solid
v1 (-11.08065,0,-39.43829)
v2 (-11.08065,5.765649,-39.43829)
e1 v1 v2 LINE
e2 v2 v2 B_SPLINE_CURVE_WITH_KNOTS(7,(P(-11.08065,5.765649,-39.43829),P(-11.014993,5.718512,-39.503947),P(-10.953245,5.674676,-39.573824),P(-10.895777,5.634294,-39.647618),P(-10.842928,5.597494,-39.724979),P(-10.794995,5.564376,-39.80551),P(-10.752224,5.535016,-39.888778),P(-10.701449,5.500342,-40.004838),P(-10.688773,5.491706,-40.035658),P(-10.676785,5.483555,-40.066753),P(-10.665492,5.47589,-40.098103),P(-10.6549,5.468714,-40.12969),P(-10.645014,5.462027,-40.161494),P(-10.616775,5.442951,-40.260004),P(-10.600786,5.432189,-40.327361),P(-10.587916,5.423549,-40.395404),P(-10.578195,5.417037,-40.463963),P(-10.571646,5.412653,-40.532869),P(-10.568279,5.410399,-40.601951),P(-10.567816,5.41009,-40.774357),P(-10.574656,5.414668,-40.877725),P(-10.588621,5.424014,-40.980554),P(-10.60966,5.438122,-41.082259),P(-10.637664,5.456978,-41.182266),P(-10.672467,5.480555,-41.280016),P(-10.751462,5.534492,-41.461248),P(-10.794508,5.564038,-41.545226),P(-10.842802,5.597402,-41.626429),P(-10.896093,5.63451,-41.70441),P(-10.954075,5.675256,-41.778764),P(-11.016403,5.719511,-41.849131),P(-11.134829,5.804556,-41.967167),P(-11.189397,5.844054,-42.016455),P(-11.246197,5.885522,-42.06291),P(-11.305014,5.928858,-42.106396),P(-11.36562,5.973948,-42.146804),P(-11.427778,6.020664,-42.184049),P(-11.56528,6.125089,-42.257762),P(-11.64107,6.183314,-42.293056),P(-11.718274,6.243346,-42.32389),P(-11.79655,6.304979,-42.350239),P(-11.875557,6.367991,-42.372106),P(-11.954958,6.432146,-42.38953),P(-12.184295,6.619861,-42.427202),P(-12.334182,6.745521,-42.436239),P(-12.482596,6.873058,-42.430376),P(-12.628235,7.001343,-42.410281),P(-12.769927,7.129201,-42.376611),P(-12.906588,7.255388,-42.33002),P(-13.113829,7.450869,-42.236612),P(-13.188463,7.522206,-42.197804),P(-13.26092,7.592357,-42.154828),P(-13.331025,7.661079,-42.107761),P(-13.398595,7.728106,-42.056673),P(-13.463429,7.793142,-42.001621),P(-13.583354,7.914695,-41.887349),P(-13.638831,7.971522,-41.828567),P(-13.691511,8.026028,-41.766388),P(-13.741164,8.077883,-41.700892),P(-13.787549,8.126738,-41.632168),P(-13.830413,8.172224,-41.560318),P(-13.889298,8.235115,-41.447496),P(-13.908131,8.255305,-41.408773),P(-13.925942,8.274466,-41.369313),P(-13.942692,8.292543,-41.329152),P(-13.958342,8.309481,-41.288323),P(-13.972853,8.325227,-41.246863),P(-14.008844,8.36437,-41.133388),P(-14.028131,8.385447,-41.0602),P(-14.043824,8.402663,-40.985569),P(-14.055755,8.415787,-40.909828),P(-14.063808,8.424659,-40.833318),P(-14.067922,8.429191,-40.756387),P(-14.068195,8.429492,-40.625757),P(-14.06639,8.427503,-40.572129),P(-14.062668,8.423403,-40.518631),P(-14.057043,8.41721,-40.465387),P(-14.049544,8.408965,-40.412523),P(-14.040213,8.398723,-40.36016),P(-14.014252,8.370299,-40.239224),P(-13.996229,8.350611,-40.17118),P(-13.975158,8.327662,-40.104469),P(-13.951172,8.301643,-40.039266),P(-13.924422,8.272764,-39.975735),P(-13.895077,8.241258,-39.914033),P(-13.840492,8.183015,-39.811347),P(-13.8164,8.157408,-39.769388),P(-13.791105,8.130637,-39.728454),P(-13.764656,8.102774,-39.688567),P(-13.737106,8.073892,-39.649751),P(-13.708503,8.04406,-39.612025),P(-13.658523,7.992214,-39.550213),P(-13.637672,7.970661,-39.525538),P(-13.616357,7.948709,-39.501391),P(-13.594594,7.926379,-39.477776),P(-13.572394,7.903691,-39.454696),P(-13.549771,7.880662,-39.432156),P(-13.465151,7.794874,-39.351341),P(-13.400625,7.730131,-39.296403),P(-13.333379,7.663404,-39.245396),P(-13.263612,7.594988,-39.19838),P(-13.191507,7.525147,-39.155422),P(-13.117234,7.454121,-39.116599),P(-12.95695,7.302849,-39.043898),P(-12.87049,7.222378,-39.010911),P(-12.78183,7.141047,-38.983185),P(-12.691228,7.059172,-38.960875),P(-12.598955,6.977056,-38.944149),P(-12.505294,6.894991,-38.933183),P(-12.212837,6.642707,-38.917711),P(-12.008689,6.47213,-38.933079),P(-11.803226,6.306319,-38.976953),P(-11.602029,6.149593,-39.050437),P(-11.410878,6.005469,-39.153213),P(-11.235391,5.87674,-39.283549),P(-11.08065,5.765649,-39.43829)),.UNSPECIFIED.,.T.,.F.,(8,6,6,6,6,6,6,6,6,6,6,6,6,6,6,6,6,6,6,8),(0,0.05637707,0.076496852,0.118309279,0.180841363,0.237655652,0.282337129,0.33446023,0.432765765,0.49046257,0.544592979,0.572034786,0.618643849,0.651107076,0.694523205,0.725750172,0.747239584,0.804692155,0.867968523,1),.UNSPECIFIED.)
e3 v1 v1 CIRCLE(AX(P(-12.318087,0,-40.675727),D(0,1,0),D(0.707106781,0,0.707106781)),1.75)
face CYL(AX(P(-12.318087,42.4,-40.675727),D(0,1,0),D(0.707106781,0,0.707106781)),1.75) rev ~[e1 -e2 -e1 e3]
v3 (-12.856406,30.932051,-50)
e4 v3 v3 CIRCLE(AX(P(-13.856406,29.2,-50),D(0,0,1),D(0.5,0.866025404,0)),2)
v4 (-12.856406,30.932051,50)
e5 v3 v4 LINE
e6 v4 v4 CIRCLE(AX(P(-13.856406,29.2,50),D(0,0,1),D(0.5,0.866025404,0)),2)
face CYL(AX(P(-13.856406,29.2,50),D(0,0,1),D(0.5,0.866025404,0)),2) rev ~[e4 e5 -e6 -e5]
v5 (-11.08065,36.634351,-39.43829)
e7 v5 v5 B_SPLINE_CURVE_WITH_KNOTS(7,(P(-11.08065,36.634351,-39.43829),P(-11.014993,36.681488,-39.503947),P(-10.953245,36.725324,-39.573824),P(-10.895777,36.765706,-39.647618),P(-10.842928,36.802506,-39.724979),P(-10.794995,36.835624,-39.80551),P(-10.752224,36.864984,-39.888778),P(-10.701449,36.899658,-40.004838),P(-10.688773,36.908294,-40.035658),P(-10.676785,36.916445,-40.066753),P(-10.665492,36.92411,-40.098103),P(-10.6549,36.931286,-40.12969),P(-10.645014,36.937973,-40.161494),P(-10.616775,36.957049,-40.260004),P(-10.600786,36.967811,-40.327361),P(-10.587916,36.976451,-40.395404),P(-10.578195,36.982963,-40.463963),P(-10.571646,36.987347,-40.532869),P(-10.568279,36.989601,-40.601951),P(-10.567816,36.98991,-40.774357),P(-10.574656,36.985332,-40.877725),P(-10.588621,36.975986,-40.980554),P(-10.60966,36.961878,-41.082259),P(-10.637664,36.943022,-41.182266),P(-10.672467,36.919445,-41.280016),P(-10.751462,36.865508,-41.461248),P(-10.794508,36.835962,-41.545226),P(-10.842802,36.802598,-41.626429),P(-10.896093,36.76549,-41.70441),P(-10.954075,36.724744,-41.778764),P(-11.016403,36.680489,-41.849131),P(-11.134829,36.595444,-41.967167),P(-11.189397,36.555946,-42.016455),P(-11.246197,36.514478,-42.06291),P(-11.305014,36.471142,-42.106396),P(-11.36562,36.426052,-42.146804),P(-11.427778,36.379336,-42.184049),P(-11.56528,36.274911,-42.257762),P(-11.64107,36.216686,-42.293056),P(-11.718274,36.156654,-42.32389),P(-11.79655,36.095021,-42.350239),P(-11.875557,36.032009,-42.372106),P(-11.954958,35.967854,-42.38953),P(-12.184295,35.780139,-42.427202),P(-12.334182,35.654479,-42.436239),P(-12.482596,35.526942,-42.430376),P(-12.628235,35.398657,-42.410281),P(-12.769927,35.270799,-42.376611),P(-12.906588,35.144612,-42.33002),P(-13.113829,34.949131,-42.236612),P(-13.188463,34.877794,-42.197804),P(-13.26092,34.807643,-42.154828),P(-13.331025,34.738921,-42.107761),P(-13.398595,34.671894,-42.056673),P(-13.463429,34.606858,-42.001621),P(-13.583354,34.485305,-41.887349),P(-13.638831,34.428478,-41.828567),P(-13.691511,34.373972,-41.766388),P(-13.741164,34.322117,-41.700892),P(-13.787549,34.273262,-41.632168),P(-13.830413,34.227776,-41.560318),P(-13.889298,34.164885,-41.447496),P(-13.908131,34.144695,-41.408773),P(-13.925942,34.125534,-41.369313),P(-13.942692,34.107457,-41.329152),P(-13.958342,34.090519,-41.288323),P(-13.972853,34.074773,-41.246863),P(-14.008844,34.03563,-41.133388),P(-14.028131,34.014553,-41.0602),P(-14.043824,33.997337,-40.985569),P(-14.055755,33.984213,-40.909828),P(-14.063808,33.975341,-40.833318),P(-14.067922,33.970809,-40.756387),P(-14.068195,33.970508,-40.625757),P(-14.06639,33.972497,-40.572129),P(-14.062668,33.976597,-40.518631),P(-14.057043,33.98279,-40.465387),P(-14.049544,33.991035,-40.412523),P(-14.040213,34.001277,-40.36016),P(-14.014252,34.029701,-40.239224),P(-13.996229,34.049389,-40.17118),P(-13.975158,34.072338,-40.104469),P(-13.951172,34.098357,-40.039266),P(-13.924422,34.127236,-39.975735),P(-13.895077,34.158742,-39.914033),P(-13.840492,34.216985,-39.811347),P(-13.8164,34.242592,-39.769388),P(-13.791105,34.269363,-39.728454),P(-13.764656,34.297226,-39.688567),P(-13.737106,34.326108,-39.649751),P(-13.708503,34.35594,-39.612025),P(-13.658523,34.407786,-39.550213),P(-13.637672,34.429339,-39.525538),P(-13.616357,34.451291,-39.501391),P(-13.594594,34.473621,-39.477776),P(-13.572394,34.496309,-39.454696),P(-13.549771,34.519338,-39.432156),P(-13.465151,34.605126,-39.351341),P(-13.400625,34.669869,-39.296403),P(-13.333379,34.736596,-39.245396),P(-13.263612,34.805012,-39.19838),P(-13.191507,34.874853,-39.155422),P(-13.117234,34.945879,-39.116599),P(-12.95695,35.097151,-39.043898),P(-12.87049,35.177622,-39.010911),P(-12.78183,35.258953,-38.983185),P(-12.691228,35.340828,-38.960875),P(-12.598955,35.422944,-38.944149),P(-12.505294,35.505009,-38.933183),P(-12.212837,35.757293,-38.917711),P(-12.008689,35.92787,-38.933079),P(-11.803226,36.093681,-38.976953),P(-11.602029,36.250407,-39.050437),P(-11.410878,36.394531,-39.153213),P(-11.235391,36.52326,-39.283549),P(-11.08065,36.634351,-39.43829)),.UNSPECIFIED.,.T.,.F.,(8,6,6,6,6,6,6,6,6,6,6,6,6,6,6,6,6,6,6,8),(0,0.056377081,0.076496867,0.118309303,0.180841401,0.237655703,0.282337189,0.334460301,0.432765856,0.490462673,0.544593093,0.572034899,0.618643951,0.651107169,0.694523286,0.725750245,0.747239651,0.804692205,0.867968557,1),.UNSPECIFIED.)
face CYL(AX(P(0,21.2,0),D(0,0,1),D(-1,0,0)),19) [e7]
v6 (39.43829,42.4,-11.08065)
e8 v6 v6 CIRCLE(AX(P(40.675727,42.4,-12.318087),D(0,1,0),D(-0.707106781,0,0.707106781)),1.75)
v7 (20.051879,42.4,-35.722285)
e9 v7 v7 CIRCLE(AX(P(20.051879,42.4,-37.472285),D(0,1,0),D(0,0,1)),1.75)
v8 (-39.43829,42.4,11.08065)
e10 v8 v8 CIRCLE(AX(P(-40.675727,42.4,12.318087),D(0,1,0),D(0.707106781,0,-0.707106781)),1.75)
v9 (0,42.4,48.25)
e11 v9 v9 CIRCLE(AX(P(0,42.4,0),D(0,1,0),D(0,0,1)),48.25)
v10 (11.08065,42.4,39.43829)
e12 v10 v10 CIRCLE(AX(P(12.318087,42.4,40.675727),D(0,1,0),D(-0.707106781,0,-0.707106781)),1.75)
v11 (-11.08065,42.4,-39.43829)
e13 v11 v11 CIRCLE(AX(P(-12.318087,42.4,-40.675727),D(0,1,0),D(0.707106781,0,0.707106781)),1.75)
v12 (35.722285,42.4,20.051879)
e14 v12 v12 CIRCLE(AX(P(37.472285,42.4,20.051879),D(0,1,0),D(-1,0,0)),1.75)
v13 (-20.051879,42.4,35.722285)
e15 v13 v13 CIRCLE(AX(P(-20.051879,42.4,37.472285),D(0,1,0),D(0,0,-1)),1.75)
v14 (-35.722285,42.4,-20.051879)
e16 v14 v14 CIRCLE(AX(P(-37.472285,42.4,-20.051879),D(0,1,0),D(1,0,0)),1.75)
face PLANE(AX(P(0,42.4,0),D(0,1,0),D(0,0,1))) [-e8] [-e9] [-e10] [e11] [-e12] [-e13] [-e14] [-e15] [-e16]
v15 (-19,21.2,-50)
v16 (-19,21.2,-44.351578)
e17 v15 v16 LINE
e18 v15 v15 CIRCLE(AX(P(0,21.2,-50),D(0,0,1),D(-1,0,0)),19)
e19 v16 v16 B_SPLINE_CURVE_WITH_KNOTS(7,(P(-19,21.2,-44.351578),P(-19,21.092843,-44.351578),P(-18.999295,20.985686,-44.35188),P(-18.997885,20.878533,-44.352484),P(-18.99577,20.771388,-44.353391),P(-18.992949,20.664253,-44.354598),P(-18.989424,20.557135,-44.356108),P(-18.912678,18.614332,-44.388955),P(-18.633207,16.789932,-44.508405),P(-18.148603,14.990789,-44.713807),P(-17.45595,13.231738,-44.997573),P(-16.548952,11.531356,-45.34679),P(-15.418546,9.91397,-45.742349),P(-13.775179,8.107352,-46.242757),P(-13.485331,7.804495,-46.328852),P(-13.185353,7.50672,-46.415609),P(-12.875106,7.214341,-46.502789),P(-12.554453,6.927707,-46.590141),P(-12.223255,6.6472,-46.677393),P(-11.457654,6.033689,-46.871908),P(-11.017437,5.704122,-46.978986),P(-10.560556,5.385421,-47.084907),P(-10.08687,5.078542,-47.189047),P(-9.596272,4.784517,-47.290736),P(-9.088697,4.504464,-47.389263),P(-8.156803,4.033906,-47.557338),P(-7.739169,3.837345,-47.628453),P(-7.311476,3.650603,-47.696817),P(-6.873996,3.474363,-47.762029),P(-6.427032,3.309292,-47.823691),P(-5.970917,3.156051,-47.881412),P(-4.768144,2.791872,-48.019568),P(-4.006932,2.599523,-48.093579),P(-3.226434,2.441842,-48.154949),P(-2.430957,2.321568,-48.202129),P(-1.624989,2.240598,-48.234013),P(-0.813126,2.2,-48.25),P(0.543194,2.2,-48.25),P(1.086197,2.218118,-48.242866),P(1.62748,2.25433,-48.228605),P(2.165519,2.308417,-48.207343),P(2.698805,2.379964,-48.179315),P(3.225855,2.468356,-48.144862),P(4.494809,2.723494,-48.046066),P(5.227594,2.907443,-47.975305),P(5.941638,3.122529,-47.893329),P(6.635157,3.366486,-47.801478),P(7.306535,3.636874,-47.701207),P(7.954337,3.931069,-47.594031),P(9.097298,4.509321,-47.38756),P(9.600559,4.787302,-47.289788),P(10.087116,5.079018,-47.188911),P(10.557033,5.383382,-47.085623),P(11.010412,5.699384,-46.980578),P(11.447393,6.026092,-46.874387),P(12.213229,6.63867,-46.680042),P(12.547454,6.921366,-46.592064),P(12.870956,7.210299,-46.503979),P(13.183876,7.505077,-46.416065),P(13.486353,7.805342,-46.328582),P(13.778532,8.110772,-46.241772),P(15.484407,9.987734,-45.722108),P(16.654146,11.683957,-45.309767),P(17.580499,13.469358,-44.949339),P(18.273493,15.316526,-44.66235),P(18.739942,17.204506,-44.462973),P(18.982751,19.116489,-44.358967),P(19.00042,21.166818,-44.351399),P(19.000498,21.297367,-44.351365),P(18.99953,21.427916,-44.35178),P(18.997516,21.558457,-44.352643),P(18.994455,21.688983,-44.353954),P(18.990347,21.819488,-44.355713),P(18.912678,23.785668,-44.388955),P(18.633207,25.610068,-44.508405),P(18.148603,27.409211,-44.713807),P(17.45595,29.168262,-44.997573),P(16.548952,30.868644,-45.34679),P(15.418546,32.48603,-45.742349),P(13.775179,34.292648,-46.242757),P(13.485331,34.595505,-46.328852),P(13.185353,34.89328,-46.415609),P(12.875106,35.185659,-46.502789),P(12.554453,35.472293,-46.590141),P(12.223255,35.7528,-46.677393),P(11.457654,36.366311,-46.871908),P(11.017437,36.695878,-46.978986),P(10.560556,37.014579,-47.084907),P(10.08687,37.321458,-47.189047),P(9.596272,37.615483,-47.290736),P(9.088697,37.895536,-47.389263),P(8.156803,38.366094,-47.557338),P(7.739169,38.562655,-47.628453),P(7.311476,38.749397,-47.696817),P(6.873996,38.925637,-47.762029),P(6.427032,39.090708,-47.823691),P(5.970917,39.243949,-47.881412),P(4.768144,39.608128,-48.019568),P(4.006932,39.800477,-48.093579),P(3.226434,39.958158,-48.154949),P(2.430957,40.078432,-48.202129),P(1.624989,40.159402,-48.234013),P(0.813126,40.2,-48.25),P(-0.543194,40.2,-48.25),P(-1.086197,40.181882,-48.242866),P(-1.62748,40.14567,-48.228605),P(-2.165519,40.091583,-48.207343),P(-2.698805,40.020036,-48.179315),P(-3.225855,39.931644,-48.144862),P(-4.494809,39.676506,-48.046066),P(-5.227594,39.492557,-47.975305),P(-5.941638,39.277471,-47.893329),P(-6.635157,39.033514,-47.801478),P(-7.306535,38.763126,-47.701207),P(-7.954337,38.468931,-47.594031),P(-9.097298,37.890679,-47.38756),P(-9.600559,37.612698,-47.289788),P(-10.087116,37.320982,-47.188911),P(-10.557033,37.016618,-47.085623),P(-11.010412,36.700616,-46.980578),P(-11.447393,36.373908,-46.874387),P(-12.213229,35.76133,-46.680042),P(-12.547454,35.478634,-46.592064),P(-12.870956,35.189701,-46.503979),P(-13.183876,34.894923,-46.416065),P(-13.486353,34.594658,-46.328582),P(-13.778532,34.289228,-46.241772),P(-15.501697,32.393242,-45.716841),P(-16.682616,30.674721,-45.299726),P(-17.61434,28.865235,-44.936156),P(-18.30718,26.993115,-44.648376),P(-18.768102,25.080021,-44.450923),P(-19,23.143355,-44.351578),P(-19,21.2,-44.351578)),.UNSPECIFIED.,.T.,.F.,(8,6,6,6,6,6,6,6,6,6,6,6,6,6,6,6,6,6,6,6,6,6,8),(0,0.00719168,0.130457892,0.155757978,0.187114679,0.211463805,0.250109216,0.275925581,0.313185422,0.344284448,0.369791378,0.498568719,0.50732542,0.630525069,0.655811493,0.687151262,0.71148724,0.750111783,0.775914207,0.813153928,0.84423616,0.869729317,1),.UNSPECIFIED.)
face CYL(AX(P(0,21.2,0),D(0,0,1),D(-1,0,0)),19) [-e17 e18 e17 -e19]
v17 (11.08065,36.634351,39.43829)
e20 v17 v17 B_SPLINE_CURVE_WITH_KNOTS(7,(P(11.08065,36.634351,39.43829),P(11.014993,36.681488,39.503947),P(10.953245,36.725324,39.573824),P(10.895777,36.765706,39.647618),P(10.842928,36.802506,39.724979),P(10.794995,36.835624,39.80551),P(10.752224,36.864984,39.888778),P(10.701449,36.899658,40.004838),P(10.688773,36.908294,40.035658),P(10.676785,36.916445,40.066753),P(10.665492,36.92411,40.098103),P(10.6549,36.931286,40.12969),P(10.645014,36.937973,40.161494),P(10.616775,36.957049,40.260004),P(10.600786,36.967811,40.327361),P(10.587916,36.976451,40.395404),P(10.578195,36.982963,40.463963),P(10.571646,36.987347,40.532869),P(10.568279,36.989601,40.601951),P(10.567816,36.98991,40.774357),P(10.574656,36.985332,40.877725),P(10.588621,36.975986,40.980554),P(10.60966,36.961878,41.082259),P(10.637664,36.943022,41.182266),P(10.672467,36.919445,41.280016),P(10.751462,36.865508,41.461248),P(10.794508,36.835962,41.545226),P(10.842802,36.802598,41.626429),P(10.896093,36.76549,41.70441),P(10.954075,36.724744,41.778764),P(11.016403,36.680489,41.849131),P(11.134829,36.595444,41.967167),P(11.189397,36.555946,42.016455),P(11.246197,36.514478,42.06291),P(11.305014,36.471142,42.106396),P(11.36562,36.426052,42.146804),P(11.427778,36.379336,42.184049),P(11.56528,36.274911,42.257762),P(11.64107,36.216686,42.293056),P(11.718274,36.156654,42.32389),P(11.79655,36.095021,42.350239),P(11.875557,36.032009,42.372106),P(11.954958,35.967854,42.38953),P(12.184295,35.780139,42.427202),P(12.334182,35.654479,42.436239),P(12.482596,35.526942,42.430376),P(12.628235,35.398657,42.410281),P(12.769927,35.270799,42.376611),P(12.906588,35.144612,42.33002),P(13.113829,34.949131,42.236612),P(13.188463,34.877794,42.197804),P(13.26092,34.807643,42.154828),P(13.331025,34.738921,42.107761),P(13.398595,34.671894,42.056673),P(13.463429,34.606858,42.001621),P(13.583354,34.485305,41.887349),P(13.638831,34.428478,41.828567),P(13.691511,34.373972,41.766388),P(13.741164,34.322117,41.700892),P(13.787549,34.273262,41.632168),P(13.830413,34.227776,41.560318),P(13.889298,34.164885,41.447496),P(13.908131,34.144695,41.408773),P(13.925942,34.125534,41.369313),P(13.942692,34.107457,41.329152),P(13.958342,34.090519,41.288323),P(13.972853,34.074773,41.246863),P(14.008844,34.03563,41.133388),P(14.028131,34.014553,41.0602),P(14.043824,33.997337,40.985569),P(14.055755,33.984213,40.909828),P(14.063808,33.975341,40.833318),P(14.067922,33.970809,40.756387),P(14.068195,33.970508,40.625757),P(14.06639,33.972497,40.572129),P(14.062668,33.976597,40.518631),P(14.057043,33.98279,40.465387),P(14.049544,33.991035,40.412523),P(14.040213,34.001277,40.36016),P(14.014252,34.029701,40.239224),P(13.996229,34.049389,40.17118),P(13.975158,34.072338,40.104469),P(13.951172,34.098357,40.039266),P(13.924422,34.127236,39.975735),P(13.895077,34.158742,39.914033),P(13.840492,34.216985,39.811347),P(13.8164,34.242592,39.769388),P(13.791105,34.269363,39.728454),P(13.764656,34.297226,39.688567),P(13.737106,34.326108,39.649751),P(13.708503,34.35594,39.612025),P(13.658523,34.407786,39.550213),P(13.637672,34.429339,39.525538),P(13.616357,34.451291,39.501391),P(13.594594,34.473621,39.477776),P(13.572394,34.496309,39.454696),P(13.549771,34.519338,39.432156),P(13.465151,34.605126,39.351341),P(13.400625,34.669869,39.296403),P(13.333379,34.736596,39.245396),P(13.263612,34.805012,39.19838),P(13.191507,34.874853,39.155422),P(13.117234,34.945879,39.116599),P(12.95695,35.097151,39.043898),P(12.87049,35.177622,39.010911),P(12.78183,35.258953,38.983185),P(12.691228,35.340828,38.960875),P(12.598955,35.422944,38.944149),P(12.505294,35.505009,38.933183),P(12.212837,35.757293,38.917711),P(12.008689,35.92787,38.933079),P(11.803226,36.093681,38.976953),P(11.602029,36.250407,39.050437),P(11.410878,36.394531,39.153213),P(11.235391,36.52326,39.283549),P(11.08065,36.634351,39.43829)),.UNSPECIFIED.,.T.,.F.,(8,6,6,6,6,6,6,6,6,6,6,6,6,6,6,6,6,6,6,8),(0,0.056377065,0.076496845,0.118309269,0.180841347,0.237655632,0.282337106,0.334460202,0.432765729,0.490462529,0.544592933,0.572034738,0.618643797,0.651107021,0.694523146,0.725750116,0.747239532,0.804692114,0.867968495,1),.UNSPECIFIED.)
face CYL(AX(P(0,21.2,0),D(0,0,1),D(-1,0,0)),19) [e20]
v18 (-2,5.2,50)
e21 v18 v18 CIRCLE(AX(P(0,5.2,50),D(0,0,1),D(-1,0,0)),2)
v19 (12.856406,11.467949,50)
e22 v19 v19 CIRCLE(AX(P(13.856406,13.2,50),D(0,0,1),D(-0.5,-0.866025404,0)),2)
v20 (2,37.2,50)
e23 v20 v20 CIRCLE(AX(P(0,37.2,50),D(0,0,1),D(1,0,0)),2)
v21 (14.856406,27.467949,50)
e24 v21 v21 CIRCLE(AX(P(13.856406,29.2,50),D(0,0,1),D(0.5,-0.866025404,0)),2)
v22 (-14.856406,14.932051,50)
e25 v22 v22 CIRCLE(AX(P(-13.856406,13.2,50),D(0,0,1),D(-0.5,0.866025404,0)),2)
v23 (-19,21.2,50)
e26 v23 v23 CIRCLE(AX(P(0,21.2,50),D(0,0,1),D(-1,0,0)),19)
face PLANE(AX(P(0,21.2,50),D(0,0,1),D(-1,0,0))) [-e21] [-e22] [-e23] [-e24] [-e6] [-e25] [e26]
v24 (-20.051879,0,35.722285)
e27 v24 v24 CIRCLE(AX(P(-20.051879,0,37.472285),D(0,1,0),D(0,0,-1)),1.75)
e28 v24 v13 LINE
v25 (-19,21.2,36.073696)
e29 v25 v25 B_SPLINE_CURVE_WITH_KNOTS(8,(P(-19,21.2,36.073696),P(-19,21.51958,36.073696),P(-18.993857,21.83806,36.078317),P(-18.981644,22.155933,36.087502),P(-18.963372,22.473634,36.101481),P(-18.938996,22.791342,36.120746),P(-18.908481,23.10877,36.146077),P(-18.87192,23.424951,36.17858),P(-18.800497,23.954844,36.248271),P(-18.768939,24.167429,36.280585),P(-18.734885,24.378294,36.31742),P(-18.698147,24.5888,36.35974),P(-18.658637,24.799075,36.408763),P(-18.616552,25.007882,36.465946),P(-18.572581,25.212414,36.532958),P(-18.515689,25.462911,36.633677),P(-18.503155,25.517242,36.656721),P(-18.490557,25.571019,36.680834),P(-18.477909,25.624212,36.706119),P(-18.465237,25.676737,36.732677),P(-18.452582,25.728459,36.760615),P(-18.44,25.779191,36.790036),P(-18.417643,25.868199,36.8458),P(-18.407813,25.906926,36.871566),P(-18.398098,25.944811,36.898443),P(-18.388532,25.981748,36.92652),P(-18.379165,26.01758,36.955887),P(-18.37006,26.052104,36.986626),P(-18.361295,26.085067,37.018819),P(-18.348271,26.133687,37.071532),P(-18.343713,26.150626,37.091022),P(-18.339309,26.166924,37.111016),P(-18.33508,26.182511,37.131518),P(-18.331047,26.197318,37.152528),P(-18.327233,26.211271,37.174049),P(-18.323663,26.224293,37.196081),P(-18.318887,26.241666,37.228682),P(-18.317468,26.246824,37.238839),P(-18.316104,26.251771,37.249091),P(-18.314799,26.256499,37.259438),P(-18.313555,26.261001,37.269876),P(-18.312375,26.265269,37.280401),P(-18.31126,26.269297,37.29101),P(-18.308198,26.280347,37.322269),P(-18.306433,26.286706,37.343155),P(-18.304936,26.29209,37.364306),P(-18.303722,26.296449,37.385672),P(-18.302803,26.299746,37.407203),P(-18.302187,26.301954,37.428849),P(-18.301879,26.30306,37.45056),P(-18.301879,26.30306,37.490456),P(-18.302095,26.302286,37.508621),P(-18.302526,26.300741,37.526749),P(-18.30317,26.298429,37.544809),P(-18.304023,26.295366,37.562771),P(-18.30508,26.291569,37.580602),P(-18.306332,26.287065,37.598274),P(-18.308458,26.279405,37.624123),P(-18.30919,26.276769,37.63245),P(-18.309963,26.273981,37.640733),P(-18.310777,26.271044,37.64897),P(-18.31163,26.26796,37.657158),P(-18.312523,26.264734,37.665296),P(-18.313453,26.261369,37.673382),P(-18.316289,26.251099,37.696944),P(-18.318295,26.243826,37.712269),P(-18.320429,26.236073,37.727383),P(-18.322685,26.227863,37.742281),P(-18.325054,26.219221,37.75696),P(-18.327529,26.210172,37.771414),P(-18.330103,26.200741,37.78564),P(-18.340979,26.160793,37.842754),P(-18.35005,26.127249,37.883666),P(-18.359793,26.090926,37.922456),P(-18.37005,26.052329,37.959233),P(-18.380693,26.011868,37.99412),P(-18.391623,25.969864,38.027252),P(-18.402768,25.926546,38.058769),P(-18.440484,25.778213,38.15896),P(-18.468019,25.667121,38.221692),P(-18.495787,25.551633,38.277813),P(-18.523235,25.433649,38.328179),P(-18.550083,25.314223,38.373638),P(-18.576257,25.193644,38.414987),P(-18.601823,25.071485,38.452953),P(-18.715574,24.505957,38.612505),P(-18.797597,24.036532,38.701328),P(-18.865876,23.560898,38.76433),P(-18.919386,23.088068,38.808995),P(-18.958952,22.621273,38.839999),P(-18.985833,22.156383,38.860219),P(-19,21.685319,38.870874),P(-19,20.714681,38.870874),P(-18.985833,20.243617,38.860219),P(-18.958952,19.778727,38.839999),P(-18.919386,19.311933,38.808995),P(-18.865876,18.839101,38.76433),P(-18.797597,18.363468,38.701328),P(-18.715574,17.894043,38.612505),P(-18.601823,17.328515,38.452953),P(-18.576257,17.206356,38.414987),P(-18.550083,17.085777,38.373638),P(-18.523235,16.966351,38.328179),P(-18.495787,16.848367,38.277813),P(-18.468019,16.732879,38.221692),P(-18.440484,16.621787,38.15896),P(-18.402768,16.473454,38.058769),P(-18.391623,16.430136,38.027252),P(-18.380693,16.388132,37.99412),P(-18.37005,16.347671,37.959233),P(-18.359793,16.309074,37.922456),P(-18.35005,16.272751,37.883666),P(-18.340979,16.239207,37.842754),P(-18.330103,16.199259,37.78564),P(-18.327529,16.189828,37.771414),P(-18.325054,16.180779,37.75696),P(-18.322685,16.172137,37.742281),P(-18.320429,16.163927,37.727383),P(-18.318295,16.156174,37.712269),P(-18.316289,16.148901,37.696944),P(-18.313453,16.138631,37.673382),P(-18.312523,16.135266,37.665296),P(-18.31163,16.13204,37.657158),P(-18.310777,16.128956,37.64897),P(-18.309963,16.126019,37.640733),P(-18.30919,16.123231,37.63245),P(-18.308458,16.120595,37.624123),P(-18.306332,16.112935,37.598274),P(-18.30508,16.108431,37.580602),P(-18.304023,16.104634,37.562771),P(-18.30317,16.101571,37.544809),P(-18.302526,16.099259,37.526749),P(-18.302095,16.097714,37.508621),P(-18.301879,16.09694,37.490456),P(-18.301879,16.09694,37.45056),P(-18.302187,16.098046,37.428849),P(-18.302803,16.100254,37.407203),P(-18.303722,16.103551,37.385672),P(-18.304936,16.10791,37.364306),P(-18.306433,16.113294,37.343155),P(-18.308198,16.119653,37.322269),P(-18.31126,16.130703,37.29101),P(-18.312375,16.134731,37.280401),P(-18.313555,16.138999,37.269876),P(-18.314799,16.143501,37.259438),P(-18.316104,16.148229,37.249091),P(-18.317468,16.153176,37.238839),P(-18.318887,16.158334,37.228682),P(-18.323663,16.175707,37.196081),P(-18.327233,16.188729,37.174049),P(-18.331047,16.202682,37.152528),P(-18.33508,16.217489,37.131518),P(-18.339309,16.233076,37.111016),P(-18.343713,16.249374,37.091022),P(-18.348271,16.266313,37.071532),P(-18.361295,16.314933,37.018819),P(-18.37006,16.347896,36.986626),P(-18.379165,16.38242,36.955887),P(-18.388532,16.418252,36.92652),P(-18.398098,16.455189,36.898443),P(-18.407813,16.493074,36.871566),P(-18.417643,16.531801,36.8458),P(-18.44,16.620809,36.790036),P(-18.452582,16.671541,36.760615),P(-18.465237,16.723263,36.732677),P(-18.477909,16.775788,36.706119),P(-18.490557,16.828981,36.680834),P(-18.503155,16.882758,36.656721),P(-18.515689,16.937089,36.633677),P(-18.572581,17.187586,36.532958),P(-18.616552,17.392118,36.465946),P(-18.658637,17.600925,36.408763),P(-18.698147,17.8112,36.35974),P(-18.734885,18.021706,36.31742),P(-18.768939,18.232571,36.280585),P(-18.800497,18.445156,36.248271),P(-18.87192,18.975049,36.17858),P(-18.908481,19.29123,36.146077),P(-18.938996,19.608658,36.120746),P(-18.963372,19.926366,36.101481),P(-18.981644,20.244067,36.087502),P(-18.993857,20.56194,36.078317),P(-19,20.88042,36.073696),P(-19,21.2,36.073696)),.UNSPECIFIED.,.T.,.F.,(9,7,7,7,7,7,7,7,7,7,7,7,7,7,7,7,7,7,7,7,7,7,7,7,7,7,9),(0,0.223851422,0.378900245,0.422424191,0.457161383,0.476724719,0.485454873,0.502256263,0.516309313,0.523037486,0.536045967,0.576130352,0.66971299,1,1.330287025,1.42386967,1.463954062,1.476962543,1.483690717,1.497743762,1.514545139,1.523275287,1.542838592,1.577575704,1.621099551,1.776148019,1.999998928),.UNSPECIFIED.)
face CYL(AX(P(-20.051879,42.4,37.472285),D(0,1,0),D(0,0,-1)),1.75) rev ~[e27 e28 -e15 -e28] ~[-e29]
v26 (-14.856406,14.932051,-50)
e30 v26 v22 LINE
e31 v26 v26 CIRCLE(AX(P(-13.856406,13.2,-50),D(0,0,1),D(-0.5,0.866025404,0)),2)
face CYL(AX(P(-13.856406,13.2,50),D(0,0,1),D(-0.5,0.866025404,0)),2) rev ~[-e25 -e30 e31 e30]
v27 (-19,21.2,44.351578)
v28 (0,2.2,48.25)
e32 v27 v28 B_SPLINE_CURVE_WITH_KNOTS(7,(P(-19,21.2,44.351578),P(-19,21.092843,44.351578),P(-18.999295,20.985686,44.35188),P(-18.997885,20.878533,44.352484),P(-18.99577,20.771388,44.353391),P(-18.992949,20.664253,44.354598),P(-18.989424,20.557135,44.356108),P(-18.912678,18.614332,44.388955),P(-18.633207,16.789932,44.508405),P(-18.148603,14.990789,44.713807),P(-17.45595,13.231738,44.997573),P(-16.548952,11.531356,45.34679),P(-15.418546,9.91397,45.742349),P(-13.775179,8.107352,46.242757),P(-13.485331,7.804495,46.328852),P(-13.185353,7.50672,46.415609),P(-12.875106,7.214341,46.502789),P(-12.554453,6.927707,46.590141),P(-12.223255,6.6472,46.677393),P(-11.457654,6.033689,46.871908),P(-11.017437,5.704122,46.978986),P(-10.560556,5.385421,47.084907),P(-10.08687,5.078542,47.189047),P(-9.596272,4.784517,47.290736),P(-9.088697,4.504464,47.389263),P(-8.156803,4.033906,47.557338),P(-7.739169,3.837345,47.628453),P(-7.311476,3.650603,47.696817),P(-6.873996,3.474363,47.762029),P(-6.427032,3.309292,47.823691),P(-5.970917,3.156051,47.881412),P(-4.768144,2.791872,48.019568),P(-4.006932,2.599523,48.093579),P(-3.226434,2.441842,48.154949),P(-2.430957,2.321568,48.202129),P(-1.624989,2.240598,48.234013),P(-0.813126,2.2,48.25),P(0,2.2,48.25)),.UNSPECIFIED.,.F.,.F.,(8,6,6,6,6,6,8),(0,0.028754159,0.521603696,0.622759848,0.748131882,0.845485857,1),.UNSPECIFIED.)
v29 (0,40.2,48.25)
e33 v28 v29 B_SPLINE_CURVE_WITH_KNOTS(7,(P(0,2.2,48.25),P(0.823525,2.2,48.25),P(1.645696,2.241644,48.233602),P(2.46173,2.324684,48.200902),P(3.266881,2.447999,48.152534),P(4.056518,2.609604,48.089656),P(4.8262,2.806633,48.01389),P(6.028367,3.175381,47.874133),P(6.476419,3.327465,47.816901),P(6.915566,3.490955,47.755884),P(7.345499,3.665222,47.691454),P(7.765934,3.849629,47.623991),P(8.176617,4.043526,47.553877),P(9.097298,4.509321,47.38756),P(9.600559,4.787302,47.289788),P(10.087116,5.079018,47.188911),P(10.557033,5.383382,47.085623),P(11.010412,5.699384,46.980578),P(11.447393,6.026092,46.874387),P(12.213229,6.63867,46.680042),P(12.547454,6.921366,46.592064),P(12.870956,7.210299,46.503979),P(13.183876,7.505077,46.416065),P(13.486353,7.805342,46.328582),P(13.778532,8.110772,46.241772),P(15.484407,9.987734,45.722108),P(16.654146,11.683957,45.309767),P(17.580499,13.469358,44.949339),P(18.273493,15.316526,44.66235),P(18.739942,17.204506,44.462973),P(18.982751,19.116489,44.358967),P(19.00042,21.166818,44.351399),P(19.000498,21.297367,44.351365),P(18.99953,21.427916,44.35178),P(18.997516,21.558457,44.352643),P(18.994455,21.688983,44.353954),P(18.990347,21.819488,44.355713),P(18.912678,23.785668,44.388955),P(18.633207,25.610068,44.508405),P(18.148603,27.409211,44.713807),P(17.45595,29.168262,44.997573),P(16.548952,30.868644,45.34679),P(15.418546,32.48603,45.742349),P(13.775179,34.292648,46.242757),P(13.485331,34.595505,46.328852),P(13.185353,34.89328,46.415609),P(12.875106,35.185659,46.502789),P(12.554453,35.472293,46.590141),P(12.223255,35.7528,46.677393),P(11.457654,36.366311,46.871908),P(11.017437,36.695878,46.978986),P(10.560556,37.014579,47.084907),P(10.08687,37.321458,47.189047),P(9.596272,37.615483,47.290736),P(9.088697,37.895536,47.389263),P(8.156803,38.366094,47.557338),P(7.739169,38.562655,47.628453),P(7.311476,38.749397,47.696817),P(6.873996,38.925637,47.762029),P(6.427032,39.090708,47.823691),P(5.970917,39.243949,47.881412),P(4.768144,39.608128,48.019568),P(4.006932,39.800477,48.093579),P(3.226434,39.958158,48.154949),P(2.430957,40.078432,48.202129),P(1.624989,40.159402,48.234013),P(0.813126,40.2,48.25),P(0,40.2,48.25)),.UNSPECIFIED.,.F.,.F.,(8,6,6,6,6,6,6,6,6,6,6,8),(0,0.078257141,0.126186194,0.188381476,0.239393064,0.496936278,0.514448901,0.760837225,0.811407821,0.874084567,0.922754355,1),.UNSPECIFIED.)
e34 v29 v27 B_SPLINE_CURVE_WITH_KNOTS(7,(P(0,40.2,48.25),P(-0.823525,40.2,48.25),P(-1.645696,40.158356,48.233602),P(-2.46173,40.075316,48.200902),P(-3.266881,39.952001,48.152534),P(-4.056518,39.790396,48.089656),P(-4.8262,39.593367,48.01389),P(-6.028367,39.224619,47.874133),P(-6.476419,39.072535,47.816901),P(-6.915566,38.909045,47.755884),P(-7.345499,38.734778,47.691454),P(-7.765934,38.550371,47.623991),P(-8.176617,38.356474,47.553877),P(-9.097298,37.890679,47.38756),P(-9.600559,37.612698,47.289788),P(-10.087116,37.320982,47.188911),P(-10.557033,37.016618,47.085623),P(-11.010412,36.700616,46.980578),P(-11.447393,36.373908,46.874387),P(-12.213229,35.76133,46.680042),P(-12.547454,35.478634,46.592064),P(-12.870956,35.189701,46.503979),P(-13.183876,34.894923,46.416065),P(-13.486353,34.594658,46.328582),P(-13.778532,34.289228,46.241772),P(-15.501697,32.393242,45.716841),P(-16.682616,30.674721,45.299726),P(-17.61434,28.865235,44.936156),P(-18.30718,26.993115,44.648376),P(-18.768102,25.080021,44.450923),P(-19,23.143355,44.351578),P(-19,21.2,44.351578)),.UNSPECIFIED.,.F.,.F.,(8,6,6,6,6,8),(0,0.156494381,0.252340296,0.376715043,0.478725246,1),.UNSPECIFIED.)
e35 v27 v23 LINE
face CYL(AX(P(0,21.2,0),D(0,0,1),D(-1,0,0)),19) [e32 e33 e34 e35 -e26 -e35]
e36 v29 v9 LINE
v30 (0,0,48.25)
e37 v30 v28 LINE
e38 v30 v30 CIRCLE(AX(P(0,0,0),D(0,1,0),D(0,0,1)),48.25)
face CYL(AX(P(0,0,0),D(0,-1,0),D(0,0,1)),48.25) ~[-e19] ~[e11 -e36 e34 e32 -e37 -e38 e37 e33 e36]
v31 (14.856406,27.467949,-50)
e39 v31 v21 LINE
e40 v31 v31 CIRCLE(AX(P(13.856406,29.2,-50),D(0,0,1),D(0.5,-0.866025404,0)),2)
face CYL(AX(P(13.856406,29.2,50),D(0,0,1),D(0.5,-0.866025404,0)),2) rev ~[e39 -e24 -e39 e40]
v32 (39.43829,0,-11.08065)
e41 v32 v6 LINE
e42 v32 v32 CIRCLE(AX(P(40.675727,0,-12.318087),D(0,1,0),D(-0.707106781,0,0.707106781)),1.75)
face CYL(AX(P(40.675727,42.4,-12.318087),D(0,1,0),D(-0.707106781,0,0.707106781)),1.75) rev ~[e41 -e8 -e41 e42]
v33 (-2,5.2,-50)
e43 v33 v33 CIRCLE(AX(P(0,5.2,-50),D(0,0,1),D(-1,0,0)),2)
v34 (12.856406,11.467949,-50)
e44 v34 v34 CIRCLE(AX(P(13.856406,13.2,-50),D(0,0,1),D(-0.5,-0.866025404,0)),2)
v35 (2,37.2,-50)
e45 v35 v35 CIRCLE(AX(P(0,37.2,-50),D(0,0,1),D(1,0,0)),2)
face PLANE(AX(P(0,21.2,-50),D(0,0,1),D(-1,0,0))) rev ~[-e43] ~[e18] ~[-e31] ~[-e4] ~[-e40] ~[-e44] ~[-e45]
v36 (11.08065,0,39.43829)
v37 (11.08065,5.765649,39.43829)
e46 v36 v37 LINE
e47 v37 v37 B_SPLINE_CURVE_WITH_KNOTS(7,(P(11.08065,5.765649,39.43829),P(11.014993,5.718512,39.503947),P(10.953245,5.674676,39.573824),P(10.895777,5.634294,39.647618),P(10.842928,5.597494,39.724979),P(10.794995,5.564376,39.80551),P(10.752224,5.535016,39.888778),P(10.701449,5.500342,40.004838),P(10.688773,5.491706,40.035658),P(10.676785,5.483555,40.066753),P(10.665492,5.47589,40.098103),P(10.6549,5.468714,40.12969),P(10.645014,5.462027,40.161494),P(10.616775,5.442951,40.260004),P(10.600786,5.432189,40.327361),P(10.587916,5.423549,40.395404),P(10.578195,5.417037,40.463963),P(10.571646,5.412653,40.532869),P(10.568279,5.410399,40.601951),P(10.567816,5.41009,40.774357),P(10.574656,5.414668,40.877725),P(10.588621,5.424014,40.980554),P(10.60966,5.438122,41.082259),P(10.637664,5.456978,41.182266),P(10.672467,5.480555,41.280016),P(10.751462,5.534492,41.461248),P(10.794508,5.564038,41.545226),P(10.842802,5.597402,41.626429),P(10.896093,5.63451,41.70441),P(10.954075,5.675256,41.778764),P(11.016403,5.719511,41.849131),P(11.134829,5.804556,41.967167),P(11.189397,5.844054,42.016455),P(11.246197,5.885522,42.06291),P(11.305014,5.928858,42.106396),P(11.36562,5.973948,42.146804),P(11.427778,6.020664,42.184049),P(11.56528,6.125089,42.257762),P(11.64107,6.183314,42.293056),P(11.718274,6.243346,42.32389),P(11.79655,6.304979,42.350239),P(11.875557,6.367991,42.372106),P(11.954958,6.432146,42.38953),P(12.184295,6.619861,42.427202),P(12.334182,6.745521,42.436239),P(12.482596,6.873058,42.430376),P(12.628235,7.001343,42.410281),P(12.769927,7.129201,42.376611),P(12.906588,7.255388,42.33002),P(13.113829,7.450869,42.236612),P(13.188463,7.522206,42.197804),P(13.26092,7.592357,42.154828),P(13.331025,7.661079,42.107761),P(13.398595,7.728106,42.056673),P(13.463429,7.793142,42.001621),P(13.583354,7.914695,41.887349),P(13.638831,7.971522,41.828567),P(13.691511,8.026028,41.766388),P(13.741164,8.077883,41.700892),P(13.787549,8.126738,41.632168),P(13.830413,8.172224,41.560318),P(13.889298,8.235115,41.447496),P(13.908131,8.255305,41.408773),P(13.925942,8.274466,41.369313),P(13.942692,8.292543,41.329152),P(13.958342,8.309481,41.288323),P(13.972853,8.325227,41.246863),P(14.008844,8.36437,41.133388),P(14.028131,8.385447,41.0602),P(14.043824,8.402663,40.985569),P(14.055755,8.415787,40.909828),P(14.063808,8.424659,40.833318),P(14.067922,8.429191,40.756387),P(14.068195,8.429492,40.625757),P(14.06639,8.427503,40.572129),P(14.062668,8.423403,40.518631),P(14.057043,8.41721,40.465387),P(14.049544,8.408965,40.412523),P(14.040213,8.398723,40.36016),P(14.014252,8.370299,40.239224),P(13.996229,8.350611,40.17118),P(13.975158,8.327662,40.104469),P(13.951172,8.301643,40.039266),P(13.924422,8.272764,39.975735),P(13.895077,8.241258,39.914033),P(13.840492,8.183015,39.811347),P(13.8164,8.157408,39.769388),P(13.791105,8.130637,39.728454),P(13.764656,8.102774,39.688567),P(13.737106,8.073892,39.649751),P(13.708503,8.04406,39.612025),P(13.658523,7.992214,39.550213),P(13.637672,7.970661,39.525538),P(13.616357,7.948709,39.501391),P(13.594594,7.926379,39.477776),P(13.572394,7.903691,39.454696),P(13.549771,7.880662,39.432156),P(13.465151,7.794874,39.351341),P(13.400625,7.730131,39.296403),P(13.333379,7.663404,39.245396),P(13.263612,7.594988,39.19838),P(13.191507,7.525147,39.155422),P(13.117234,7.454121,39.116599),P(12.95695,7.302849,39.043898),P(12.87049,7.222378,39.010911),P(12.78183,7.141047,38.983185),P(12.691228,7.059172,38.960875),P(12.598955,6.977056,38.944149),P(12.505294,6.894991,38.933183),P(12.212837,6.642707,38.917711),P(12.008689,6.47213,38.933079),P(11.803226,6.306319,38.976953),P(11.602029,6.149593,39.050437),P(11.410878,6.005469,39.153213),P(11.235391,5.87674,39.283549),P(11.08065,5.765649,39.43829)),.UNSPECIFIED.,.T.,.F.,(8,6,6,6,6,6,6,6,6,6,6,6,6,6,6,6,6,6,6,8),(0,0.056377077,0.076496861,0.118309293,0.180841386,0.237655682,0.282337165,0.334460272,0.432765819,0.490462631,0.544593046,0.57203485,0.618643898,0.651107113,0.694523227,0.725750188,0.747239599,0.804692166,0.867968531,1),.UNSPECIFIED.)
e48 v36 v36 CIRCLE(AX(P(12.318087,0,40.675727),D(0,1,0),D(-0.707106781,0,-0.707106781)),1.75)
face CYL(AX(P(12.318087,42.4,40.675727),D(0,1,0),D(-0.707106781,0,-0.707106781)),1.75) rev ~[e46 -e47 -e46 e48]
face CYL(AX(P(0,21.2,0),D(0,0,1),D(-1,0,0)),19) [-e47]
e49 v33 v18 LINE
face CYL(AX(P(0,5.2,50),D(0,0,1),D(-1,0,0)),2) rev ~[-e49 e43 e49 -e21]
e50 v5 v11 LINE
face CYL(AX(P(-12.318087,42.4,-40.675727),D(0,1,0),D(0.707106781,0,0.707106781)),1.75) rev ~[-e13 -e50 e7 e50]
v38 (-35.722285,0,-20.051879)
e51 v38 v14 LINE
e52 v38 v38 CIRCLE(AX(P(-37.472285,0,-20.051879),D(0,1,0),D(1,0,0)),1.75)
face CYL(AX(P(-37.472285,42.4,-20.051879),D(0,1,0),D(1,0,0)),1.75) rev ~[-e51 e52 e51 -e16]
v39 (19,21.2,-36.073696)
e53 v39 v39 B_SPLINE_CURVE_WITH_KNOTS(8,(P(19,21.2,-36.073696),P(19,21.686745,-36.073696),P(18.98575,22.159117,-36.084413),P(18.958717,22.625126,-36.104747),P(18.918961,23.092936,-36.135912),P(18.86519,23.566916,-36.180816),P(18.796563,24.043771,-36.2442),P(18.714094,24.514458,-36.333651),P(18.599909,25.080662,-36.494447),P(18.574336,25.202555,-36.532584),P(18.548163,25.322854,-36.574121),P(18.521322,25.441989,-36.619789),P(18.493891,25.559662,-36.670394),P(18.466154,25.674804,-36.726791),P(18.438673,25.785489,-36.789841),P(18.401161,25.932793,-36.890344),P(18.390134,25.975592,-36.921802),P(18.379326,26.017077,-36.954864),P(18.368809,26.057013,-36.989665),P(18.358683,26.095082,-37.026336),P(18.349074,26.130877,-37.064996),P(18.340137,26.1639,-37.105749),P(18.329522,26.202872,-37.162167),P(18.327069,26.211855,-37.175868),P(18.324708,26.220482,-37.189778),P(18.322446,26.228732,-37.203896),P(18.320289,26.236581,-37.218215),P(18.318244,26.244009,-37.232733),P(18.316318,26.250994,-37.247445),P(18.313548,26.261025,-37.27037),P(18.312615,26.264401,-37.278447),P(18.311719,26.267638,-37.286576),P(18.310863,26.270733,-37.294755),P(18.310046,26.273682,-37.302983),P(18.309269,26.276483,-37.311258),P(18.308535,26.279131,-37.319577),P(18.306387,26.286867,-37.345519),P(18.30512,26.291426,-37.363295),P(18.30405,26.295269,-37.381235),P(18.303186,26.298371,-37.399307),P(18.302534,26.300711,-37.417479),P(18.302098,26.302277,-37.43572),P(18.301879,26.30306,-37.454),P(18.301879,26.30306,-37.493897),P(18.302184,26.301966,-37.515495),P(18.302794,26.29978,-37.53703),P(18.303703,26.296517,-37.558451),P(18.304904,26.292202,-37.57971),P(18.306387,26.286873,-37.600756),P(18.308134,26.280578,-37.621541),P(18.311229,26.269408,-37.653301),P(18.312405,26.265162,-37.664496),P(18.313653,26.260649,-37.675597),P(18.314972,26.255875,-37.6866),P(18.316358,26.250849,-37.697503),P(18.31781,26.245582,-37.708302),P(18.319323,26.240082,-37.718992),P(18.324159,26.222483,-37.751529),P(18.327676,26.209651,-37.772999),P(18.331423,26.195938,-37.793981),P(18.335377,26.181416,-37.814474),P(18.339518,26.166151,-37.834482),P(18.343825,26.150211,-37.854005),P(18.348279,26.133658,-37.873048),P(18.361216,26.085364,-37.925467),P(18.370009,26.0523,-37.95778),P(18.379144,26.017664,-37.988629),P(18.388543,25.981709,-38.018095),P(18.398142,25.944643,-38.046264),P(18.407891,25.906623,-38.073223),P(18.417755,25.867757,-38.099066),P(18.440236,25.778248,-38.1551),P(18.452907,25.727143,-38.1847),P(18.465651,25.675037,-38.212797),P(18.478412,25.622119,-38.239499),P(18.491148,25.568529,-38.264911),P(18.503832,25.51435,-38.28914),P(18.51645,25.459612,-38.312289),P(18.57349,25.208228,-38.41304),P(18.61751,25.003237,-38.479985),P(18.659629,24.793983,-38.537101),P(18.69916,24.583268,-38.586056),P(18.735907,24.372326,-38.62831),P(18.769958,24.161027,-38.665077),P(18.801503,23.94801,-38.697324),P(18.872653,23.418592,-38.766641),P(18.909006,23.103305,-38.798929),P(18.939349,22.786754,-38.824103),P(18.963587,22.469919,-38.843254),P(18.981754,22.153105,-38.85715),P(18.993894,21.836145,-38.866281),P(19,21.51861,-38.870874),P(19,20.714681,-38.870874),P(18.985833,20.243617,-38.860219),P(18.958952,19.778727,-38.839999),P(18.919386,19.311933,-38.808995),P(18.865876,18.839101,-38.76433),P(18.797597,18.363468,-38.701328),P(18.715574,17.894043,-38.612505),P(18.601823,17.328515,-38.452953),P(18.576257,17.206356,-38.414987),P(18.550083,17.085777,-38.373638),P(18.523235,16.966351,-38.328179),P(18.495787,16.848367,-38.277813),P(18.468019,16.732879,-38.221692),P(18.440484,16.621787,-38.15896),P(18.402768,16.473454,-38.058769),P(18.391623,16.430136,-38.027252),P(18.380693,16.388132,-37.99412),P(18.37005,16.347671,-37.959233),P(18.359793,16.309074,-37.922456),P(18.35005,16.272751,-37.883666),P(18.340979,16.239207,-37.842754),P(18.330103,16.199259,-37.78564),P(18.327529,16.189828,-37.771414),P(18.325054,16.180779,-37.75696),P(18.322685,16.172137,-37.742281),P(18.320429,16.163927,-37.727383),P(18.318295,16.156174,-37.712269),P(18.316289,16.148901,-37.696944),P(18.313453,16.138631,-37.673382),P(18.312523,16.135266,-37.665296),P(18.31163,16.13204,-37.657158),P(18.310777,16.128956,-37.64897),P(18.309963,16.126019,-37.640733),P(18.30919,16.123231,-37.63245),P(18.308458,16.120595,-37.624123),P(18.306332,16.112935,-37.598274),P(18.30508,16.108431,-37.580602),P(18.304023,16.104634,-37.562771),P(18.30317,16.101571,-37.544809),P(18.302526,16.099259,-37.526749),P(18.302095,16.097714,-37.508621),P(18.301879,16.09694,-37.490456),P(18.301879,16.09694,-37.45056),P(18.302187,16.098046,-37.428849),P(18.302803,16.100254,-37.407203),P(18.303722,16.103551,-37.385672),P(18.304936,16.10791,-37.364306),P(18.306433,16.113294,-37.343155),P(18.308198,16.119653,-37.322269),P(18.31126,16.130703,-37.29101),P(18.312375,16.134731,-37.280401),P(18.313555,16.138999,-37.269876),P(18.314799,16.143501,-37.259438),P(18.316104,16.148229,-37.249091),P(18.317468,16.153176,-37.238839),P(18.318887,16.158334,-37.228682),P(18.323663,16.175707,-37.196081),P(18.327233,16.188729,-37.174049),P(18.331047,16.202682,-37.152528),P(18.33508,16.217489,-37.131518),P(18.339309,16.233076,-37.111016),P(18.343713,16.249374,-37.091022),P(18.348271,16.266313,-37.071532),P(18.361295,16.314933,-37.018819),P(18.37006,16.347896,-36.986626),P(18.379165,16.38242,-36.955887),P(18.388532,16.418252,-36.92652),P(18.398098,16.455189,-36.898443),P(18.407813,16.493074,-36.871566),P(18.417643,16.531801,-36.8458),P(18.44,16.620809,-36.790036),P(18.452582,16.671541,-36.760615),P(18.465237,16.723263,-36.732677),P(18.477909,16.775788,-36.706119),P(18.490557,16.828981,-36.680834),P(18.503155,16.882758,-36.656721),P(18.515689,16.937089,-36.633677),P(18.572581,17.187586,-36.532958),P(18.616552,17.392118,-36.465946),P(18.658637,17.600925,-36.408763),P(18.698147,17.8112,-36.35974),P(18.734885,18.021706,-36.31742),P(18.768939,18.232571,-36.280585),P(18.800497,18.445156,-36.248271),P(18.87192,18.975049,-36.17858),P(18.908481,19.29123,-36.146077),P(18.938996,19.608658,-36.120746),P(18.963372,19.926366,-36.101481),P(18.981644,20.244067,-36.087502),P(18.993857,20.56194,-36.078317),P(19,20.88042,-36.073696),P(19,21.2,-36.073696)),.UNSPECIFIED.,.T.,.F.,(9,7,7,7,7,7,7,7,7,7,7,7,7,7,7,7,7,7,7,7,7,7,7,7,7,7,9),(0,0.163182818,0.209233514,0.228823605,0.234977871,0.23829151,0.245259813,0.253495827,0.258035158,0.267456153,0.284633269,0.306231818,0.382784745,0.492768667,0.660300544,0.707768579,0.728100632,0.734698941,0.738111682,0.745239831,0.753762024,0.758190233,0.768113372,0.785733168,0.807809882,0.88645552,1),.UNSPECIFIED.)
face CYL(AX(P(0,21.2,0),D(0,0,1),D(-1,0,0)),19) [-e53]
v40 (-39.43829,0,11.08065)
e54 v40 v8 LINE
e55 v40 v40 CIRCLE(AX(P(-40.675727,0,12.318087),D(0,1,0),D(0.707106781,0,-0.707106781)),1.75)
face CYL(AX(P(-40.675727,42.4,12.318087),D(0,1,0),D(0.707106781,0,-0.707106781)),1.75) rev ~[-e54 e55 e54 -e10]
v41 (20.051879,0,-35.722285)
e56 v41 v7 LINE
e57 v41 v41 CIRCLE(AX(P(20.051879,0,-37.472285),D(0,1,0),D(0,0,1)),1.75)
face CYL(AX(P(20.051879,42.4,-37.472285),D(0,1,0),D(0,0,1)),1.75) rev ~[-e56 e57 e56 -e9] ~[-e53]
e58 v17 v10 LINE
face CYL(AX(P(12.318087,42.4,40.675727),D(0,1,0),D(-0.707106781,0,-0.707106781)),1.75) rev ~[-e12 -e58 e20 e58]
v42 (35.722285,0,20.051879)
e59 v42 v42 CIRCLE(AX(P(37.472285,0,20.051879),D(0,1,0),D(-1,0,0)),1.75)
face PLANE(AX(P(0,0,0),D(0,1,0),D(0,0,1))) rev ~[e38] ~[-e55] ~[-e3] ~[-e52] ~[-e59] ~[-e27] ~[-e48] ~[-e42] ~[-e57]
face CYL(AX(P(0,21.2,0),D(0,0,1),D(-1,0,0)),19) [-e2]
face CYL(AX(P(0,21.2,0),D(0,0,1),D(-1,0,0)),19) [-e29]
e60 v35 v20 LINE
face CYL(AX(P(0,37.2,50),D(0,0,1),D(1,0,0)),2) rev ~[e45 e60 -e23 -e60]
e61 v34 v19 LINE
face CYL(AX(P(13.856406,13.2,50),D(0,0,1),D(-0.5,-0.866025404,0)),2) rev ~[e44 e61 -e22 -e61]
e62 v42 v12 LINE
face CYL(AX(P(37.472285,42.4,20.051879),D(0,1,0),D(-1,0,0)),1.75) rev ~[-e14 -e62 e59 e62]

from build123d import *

# Parameters (mm, degrees)
SKETCH_1_R               = 48.25
EXTRUDE_2_DEPTH          = 42.4
SKETCH_2_R               = 1.75
CUT_EXTRUDE_1_DEPTH      = 81.336075334
PATTERN_CIRCULAR_2_COUNT = 8
SKETCH_4_R               = 19
EXTRUDE_4_DEPTH          = 50
SKETCH_5_R               = 2
CUT_EXTRUDE_2_DEPTH      = 119.852103634
PATTERN_CIRCULAR_3_COUNT = 6


with BuildPart() as part:
    # 草图1 → 凸台-拉伸2 (new body)
    with BuildSketch(Plane(origin=(0, 0, 0), x_dir=(1, 0, 0), z_dir=(0, 1, 0))):
        with Locations(Location((0, 0, 0), (0, 0, 270))):
            Circle(SKETCH_1_R)
    extrude(amount=EXTRUDE_2_DEPTH)

    # 草图2 → 切除-拉伸1 (cut, symmetric)
    with BuildSketch(Plane(origin=(0, 42.4, 0), x_dir=(1, 0, 0), z_dir=(0, 1, 0))):
        with Locations(Location((20.051879178, 37.472284978, 0), (0, 0, 270))):
            Circle(SKETCH_2_R)
    cut_extrude_1 = extrude(amount=CUT_EXTRUDE_1_DEPTH, both=True, mode=Mode.SUBTRACT)

    # 阵列(圆周)2: 切除-拉伸1 ×8 about axis
    pattern_circular_2_axis = Axis((0, 0, 0), (0, 1, 0))
    for i in range(1, PATTERN_CIRCULAR_2_COUNT):
        add(cut_extrude_1.rotate(pattern_circular_2_axis, i * 360 / PATTERN_CIRCULAR_2_COUNT), mode=Mode.SUBTRACT)

    # 草图4 → 凸台-拉伸4 (add, symmetric)
    with BuildSketch(Plane.XY):
        with Locations(Location((0, 21.2, 0), (0, 0, 180))):
            Circle(SKETCH_4_R)
    extrude(amount=EXTRUDE_4_DEPTH, both=True)

    # 草图5 → 切除-拉伸2 (cut, symmetric)
    with BuildSketch(Plane.XY.offset(50)):
        with Locations((0, 37.2)):
            Circle(SKETCH_5_R)
    cut_extrude_2 = extrude(amount=CUT_EXTRUDE_2_DEPTH, both=True, mode=Mode.SUBTRACT)

    # 阵列(圆周)3: 切除-拉伸2 ×6 about axis
    pattern_circular_3_axis = Axis((0, 21.2, 0), (0, 0, 1))
    for i in range(1, PATTERN_CIRCULAR_3_COUNT):
        add(cut_extrude_2.rotate(pattern_circular_3_axis, i * 360 / PATTERN_CIRCULAR_3_COUNT), mode=Mode.SUBTRACT)


solid = part.part
